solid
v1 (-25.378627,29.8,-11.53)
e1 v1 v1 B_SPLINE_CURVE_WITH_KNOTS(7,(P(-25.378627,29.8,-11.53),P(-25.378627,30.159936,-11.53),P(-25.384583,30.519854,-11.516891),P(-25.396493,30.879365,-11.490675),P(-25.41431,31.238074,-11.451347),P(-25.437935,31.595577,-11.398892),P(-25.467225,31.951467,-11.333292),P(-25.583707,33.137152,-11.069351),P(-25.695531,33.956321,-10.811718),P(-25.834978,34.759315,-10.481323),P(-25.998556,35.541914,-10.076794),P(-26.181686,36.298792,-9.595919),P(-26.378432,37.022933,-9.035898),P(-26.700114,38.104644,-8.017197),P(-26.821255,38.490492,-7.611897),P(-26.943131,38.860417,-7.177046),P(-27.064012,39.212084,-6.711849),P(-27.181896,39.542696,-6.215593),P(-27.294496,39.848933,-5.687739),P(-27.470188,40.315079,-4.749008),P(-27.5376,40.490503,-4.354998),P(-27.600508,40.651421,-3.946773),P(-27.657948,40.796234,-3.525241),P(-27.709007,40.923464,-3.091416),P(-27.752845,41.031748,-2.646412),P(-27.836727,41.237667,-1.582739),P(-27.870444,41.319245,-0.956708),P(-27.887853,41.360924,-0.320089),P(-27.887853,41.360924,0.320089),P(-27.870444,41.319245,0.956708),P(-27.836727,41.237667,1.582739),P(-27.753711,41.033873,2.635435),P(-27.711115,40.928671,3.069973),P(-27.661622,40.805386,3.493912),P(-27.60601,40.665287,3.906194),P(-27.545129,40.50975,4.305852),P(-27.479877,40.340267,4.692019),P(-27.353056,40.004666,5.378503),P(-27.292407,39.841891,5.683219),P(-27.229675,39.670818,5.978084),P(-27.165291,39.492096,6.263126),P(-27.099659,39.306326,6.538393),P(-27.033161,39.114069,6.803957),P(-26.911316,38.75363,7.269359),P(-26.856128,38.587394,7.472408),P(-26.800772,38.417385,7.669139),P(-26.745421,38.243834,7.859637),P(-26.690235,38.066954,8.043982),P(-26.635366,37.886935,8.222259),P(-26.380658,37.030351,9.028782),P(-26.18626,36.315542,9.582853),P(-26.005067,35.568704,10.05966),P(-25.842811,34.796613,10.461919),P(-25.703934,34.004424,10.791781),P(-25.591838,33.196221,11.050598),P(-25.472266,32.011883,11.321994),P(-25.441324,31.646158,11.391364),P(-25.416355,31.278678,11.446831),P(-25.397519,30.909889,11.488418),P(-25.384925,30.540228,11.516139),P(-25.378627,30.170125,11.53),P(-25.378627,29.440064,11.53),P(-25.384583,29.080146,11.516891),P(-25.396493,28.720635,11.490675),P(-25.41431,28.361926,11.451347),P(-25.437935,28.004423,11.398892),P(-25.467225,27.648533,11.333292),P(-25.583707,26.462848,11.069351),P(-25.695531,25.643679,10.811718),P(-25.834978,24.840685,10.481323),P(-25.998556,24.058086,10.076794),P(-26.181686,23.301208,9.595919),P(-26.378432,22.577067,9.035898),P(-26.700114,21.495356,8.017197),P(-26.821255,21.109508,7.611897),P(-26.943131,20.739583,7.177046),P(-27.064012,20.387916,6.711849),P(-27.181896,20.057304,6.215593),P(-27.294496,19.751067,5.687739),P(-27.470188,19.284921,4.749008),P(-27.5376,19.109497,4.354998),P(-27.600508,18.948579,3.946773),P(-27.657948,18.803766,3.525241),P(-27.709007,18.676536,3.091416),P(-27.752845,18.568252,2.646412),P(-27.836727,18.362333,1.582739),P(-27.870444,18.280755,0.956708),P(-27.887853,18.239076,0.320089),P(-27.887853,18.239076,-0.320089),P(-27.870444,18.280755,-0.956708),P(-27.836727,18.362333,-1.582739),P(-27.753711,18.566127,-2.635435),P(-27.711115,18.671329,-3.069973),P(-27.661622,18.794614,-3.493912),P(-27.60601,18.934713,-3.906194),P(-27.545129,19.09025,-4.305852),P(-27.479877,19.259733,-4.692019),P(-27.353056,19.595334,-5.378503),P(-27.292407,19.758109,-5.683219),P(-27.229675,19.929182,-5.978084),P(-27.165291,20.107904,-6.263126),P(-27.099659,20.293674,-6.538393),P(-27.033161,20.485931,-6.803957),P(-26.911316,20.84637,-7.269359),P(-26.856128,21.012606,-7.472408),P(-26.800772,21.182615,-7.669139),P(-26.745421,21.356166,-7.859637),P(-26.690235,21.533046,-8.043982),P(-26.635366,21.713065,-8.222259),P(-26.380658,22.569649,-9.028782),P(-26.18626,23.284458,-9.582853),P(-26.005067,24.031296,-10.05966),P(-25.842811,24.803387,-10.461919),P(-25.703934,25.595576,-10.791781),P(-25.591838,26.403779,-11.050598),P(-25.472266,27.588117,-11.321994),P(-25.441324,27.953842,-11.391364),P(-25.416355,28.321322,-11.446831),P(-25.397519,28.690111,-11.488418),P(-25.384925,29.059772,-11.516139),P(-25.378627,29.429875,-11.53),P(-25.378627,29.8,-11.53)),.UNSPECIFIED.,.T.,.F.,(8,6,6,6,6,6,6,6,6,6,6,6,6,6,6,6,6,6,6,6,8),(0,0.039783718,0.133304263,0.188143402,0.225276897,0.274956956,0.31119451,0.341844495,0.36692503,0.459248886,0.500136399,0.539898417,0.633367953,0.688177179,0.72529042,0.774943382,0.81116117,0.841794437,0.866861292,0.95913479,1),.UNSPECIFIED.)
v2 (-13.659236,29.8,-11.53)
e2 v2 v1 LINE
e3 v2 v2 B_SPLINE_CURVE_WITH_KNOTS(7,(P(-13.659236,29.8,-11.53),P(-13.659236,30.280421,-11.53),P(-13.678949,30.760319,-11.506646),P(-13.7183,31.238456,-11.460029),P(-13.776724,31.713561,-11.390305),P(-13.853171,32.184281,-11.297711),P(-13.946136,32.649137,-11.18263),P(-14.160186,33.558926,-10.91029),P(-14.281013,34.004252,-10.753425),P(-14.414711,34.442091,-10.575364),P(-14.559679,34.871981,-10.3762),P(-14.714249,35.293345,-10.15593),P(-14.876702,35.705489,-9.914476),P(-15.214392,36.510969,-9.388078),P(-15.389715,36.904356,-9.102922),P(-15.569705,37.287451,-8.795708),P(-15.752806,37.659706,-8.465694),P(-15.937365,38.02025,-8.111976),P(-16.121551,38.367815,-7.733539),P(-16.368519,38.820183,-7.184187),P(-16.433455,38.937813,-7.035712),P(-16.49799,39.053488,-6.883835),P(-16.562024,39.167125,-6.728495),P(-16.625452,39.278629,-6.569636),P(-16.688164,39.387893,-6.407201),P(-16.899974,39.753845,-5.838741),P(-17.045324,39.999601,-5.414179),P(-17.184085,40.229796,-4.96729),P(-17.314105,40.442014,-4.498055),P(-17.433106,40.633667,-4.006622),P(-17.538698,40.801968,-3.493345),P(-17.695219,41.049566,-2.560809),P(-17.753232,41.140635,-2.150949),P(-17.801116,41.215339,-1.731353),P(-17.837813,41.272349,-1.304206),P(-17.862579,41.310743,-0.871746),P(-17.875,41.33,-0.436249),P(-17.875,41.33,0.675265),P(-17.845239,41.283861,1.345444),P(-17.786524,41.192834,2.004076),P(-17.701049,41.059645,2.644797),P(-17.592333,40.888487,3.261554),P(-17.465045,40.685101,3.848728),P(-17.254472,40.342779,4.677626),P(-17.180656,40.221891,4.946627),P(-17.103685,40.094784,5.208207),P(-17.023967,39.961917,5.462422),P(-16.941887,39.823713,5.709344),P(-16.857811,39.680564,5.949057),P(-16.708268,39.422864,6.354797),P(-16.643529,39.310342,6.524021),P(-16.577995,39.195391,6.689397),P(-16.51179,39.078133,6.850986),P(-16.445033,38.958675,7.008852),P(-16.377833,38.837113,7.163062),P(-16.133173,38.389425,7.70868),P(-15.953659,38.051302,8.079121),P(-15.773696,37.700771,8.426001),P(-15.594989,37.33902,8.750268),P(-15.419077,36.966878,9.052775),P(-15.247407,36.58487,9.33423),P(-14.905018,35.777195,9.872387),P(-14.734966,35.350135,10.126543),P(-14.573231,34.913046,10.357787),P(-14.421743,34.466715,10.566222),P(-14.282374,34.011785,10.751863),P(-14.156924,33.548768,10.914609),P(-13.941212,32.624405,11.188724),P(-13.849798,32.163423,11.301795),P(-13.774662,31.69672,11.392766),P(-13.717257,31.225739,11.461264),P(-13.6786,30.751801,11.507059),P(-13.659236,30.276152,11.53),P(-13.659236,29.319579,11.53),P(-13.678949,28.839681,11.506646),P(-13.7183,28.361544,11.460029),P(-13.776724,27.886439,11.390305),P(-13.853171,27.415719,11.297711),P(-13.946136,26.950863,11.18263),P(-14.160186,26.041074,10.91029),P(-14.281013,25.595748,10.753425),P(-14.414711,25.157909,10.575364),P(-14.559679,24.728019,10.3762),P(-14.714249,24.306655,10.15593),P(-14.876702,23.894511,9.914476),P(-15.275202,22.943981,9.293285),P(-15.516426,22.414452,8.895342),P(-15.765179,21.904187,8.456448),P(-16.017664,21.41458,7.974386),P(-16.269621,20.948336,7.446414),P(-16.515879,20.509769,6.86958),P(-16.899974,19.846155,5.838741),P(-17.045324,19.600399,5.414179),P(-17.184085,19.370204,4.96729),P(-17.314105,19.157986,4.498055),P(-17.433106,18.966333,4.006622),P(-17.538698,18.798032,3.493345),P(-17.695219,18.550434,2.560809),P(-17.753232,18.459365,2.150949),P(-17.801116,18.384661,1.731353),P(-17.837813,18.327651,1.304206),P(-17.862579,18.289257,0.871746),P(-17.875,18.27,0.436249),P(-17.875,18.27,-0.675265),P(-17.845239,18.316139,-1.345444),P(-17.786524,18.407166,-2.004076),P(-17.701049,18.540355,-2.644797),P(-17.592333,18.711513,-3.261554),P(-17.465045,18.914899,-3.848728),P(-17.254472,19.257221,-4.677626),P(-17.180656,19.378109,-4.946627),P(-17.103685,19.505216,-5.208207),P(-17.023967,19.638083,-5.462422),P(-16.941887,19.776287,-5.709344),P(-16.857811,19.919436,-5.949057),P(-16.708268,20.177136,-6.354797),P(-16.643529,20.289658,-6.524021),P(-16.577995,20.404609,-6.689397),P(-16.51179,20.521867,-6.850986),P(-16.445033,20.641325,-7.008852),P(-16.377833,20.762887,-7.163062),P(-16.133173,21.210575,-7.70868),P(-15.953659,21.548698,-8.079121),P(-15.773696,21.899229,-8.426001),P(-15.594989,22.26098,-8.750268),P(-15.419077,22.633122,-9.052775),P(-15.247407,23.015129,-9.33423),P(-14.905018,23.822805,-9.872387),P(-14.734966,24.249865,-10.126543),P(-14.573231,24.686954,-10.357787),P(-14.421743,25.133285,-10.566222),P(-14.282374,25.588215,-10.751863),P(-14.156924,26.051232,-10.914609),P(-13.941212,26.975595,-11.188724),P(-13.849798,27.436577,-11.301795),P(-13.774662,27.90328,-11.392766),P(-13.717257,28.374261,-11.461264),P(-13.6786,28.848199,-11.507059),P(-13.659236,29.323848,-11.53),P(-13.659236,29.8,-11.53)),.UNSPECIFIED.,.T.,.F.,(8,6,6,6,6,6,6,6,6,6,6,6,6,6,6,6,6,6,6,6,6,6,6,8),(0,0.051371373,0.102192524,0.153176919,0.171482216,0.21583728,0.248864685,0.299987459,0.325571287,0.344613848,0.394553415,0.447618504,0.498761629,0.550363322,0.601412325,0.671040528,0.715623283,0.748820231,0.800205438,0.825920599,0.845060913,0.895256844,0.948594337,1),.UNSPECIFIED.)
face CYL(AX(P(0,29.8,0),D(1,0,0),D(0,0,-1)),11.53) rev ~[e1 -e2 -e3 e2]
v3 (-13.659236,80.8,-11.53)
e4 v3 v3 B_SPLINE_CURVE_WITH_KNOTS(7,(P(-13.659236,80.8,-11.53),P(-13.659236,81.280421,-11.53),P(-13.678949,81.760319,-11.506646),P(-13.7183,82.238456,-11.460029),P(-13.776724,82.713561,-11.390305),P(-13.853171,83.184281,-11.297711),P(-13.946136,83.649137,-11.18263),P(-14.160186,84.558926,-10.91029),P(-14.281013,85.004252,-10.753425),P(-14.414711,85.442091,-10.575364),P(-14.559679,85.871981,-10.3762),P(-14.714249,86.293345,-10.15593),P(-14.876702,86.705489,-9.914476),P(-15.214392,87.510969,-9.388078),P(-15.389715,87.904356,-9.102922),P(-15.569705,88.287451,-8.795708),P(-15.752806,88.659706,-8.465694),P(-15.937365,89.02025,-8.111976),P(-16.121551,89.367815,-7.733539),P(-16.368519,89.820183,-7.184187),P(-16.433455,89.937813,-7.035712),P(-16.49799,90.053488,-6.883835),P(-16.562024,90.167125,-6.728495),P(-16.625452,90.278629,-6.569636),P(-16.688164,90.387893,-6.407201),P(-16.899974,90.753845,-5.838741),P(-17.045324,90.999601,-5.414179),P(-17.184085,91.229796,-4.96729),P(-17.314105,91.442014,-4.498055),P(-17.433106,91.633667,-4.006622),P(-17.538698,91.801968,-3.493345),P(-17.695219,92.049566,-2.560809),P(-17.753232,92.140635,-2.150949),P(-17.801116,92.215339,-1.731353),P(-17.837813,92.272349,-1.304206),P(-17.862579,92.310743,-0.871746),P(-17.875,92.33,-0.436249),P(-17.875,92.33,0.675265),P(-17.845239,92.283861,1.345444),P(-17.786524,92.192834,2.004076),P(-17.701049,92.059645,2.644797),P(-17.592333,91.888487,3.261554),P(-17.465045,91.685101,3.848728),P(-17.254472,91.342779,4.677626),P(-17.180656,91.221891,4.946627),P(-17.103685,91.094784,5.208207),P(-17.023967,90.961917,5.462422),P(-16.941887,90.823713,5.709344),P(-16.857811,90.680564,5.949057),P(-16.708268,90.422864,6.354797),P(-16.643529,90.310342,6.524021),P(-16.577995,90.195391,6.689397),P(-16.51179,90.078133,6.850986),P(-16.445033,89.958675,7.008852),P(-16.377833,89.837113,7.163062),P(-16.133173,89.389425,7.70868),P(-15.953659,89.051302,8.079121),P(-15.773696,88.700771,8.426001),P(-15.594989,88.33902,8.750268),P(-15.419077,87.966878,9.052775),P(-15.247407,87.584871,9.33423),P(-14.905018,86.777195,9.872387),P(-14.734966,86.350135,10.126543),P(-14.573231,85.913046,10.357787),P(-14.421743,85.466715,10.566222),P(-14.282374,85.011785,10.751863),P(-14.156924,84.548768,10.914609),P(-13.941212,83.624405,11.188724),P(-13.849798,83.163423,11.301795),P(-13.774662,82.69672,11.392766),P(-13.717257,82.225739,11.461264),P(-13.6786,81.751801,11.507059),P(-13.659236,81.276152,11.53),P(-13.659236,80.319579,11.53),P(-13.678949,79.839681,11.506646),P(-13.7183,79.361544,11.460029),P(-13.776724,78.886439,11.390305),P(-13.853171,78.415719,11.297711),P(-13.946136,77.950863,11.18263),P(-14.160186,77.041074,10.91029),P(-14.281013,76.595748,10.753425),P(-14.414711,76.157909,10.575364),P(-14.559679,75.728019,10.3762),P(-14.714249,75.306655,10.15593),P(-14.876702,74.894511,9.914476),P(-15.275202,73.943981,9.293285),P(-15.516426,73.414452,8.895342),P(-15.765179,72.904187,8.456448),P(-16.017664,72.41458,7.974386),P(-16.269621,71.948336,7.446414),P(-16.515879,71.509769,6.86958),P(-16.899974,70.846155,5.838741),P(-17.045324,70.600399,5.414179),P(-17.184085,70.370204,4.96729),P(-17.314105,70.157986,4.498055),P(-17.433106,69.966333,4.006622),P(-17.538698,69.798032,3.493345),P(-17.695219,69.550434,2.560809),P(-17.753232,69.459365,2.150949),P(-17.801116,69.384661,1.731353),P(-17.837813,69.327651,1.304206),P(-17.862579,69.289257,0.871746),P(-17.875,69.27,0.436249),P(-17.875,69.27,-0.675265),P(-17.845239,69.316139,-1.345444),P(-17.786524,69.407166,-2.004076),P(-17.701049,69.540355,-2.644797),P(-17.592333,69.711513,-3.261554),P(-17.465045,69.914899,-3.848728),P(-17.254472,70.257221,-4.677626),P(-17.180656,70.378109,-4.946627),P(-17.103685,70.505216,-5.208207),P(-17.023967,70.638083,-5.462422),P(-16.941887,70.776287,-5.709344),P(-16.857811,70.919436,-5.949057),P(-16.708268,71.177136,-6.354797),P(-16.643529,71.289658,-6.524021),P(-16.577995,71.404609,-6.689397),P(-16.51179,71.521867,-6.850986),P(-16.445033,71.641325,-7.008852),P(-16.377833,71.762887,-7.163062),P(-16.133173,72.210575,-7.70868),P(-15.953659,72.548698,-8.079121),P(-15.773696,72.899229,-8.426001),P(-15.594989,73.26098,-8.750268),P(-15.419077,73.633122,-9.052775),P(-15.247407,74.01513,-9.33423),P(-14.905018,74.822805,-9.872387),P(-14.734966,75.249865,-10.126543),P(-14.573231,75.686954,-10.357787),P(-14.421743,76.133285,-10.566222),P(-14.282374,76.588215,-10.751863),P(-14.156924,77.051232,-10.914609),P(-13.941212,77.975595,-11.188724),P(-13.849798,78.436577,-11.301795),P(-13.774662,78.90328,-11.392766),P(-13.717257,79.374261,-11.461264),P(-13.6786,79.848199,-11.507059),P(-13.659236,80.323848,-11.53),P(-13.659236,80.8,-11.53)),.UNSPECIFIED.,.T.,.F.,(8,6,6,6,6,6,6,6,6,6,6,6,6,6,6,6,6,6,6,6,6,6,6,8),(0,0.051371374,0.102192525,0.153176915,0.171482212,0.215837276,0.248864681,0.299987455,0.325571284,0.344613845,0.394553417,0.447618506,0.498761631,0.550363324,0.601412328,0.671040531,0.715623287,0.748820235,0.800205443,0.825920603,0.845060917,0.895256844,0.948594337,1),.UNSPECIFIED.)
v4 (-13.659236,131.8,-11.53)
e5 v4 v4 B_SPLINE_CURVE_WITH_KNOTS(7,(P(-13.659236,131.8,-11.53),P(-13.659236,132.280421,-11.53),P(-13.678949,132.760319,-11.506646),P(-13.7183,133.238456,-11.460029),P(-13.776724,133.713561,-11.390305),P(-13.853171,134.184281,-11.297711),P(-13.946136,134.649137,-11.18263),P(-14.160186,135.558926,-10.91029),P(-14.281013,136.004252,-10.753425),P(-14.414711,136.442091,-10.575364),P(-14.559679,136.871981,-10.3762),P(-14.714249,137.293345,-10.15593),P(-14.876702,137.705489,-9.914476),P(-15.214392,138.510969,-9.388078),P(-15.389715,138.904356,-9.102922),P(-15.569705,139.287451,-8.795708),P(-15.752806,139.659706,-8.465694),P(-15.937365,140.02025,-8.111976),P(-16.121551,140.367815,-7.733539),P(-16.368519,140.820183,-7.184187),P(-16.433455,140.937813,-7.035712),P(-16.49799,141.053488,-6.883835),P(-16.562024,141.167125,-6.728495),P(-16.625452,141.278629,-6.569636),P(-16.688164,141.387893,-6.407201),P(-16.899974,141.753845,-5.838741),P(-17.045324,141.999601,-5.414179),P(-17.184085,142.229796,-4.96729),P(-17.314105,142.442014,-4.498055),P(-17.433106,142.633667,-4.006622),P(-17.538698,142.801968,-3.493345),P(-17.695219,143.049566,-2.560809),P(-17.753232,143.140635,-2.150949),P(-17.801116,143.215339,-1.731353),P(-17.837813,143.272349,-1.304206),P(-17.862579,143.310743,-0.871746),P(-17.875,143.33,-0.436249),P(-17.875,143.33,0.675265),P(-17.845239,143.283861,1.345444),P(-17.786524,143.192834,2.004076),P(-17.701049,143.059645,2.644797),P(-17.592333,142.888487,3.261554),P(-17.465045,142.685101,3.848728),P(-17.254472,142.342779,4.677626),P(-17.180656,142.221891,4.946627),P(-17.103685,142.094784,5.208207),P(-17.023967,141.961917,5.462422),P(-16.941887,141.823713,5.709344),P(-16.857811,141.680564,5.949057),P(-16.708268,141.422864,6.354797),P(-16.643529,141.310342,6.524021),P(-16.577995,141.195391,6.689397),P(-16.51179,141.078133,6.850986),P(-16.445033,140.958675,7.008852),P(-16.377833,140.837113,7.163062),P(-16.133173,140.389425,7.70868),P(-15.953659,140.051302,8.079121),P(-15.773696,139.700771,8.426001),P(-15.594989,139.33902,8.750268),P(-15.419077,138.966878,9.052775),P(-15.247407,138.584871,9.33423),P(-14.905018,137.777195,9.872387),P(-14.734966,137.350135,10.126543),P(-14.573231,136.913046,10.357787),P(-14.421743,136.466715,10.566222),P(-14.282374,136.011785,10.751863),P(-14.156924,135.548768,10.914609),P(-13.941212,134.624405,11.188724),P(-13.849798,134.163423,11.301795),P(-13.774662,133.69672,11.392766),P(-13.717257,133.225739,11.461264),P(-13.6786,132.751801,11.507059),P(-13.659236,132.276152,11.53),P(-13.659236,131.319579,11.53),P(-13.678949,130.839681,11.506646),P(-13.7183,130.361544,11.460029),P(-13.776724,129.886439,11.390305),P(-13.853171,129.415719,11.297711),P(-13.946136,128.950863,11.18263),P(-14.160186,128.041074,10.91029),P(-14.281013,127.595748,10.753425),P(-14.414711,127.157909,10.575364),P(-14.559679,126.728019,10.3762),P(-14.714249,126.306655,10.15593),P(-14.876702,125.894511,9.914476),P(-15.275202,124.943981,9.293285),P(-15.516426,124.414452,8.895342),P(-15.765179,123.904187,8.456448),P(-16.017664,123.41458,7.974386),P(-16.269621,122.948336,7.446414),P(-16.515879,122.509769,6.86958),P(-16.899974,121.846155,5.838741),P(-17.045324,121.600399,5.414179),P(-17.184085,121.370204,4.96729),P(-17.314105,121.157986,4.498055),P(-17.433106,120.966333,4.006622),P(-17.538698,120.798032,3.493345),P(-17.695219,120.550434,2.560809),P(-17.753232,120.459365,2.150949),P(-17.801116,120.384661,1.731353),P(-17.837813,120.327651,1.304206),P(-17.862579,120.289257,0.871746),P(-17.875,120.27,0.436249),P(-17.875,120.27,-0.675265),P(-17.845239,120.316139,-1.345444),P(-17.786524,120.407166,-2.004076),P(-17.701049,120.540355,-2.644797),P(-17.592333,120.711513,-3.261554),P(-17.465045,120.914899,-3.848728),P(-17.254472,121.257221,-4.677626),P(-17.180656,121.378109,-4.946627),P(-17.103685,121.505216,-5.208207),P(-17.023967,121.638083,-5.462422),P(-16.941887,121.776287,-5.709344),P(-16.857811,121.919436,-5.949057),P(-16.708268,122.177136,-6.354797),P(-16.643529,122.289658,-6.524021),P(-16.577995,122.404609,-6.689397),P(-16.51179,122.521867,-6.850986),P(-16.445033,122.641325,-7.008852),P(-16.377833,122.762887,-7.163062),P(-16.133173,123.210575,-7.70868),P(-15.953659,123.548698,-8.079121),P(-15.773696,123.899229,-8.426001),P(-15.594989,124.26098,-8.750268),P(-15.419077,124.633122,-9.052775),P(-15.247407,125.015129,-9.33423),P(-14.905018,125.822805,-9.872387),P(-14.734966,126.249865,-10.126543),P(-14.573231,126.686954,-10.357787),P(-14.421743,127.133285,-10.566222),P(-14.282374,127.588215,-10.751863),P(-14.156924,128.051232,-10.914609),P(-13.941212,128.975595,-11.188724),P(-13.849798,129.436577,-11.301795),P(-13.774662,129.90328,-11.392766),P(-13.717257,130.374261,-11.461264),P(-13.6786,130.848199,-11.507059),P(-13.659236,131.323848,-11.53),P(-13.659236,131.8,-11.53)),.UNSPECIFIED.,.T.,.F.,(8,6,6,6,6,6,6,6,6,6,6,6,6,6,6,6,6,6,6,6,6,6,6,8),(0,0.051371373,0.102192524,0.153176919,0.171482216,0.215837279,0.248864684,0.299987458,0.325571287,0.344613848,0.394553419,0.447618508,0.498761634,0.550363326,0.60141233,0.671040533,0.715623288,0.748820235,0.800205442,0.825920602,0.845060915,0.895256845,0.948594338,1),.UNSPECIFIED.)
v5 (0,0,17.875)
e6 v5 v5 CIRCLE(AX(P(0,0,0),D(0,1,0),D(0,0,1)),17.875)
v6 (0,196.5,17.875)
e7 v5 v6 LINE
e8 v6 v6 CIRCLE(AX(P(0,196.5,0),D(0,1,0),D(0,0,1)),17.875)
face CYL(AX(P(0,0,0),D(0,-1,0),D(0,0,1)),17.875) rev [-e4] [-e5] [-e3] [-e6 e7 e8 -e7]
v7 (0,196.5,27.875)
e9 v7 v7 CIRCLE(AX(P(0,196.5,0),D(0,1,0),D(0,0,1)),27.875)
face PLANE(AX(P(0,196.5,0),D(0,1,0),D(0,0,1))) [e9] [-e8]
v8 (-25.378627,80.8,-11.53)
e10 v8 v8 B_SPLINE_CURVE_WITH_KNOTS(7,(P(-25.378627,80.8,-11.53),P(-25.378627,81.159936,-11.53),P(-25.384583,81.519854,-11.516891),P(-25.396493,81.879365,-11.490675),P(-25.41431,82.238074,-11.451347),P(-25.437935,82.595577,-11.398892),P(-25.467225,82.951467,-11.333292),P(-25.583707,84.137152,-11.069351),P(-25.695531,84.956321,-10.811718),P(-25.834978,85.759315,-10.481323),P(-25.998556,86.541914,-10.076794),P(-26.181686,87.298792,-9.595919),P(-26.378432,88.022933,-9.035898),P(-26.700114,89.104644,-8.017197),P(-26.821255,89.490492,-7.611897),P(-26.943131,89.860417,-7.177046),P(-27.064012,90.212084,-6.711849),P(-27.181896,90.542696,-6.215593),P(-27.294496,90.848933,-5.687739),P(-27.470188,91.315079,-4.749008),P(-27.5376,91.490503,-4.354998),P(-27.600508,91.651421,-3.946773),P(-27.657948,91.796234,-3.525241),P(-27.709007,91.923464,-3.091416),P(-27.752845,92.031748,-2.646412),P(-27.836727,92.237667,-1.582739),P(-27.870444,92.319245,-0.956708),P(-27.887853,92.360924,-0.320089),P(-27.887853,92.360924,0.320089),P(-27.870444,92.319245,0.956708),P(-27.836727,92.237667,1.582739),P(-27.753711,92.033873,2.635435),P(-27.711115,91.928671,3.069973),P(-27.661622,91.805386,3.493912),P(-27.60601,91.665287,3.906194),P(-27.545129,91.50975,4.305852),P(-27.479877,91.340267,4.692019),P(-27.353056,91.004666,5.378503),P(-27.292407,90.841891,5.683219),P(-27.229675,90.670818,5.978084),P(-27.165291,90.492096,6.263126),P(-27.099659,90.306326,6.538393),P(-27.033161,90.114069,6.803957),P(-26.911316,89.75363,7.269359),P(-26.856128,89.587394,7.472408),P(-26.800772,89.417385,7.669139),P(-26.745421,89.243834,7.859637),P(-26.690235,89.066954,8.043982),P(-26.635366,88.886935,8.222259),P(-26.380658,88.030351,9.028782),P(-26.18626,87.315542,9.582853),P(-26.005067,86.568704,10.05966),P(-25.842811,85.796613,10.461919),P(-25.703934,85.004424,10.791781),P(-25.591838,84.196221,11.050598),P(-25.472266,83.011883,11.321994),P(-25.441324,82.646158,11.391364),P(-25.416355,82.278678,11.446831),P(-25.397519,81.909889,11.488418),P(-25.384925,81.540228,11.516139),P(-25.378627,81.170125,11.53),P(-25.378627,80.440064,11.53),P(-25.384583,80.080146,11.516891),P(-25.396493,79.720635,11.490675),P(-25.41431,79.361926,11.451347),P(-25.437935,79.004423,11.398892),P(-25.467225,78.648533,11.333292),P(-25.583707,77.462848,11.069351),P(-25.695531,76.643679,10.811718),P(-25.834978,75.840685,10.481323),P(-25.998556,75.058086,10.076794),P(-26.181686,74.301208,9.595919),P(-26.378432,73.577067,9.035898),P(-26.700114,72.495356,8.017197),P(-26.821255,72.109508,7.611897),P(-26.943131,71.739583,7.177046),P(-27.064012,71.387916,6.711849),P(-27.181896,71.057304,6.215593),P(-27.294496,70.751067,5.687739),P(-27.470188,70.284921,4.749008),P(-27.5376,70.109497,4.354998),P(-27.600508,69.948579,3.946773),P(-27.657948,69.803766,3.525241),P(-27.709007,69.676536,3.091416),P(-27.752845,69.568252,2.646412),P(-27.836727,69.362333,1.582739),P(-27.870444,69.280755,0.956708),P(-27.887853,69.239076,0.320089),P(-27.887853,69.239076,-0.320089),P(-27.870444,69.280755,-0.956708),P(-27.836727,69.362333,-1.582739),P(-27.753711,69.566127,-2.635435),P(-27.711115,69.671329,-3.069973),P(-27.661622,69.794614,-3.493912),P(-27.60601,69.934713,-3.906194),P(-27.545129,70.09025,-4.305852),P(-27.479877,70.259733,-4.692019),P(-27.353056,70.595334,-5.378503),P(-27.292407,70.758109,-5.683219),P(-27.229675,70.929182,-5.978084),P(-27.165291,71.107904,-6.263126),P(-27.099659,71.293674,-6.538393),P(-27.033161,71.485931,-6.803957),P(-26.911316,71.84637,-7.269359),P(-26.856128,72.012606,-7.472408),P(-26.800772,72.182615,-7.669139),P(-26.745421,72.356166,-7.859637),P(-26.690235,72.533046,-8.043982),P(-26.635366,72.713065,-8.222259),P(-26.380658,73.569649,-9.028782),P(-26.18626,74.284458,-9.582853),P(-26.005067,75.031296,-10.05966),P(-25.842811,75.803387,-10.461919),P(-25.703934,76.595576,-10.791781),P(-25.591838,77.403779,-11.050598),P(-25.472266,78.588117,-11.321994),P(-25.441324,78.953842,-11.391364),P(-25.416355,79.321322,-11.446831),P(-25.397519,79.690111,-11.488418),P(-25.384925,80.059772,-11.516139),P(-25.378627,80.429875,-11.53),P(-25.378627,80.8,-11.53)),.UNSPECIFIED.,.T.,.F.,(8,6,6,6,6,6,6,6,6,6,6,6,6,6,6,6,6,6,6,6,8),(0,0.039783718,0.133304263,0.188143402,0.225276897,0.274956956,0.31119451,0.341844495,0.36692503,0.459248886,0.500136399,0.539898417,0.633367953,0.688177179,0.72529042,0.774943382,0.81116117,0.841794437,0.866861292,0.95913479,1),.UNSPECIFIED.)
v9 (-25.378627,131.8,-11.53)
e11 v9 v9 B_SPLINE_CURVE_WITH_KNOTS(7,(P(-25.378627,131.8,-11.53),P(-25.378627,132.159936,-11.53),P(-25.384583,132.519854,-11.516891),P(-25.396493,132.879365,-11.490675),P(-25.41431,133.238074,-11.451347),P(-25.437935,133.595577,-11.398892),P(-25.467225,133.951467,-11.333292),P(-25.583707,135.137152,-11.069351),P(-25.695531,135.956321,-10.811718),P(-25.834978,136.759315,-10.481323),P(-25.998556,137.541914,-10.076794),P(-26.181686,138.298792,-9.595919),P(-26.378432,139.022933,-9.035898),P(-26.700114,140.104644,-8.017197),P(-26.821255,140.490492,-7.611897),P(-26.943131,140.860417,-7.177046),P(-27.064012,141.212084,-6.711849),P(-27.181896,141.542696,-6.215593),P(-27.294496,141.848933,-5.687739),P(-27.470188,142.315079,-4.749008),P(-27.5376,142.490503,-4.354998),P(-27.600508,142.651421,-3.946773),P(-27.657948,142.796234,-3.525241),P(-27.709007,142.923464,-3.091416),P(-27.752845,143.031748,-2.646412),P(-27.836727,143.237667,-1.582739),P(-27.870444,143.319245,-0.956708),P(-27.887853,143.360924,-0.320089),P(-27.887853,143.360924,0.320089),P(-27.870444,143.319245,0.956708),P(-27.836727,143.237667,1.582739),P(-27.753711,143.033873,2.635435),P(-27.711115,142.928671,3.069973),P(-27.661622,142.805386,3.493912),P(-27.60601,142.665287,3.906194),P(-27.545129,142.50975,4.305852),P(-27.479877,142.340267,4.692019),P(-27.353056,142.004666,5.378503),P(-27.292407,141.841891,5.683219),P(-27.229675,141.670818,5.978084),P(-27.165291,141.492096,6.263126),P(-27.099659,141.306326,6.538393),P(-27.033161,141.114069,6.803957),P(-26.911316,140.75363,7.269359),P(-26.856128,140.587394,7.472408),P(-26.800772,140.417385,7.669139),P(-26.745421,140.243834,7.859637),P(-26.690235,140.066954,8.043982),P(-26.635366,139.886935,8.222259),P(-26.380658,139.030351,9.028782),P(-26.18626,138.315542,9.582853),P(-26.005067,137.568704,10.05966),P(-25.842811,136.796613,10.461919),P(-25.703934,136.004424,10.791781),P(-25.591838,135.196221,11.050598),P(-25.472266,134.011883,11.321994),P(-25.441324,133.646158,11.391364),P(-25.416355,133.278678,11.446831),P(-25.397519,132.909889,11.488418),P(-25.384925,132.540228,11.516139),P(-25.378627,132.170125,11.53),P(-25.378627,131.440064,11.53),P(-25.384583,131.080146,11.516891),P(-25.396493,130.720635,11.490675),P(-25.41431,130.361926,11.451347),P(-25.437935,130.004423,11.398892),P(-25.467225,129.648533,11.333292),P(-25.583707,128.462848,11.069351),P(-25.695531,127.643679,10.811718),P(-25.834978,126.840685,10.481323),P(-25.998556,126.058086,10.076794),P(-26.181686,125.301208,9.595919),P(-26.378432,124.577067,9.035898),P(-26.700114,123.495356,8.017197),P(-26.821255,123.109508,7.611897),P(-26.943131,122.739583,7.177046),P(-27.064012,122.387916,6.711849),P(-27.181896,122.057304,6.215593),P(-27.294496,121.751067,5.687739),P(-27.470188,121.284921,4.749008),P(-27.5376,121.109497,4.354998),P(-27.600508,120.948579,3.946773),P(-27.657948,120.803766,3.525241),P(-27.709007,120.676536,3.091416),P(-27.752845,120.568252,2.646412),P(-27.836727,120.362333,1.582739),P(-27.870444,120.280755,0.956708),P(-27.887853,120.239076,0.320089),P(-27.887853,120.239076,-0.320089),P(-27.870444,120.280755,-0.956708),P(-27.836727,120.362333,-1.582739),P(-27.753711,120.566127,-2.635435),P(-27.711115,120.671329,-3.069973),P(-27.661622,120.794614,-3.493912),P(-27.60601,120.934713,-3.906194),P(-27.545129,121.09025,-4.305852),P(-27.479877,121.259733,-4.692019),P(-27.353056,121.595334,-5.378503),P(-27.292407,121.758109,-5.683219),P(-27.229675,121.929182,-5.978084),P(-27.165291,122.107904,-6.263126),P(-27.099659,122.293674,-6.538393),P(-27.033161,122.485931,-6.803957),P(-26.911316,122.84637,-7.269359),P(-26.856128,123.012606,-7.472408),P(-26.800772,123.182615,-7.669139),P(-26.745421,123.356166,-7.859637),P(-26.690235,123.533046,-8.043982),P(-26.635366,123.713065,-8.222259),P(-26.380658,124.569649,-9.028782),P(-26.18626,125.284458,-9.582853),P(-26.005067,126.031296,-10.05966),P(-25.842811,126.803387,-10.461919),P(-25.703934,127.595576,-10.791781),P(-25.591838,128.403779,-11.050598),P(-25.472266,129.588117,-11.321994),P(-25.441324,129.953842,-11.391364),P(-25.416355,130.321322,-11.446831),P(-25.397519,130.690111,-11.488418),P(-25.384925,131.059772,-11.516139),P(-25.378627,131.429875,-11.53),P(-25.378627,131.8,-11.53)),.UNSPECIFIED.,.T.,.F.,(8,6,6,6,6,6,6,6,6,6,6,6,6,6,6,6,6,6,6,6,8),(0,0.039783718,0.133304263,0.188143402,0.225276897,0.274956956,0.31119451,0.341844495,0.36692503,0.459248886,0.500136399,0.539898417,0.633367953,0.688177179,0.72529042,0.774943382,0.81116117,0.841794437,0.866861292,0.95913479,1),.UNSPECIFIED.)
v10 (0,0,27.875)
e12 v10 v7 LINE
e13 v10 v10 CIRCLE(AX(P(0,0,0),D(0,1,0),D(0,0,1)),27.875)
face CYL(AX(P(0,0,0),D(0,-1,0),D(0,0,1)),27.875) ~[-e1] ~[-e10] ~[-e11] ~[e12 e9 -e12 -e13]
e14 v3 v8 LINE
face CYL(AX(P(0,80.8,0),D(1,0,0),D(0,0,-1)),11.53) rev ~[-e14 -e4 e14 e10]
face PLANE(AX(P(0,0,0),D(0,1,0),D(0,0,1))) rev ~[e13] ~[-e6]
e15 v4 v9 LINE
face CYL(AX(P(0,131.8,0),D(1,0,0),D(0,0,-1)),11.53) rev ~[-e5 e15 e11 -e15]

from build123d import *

# Parameters (mm, degrees)
SKETCH1_R           = 27.875
SKETCH1_R_2         = 17.875
BOSS_EXTRUDE1_DEPTH = 196.5
SKETCH2_R           = 11.53
CUT_EXTRUDE1_DEPTH  = 201.415271998


with BuildPart() as part:
    # Sketch1 → Boss-Extrude1 (new body)
    with BuildSketch(Plane(origin=(0, 0, 0), x_dir=(1, 0, 0), z_dir=(0, 1, 0))):
        with Locations(Location((0, 0, 0), (0, 0, 270))):
            Circle(SKETCH1_R)
        with Locations(Location((0, 0, 0), (0, 0, 270))):
            Circle(SKETCH1_R_2, mode=Mode.SUBTRACT)
    extrude(amount=BOSS_EXTRUDE1_DEPTH)

    # Sketch2 → Cut-Extrude1 (cut, through all)
    with BuildSketch(Plane(origin=(0, 0, 0), x_dir=(0, 0, -1), z_dir=(1, 0, 0))):
        with Locations((0, 131.8)):
            Circle(SKETCH2_R)
        with Locations((0, 80.8)):
            Circle(SKETCH2_R)
        with Locations((0, 29.8)):
            Circle(SKETCH2_R)
    extrude(amount=-CUT_EXTRUDE1_DEPTH, mode=Mode.SUBTRACT)


solid = part.part
